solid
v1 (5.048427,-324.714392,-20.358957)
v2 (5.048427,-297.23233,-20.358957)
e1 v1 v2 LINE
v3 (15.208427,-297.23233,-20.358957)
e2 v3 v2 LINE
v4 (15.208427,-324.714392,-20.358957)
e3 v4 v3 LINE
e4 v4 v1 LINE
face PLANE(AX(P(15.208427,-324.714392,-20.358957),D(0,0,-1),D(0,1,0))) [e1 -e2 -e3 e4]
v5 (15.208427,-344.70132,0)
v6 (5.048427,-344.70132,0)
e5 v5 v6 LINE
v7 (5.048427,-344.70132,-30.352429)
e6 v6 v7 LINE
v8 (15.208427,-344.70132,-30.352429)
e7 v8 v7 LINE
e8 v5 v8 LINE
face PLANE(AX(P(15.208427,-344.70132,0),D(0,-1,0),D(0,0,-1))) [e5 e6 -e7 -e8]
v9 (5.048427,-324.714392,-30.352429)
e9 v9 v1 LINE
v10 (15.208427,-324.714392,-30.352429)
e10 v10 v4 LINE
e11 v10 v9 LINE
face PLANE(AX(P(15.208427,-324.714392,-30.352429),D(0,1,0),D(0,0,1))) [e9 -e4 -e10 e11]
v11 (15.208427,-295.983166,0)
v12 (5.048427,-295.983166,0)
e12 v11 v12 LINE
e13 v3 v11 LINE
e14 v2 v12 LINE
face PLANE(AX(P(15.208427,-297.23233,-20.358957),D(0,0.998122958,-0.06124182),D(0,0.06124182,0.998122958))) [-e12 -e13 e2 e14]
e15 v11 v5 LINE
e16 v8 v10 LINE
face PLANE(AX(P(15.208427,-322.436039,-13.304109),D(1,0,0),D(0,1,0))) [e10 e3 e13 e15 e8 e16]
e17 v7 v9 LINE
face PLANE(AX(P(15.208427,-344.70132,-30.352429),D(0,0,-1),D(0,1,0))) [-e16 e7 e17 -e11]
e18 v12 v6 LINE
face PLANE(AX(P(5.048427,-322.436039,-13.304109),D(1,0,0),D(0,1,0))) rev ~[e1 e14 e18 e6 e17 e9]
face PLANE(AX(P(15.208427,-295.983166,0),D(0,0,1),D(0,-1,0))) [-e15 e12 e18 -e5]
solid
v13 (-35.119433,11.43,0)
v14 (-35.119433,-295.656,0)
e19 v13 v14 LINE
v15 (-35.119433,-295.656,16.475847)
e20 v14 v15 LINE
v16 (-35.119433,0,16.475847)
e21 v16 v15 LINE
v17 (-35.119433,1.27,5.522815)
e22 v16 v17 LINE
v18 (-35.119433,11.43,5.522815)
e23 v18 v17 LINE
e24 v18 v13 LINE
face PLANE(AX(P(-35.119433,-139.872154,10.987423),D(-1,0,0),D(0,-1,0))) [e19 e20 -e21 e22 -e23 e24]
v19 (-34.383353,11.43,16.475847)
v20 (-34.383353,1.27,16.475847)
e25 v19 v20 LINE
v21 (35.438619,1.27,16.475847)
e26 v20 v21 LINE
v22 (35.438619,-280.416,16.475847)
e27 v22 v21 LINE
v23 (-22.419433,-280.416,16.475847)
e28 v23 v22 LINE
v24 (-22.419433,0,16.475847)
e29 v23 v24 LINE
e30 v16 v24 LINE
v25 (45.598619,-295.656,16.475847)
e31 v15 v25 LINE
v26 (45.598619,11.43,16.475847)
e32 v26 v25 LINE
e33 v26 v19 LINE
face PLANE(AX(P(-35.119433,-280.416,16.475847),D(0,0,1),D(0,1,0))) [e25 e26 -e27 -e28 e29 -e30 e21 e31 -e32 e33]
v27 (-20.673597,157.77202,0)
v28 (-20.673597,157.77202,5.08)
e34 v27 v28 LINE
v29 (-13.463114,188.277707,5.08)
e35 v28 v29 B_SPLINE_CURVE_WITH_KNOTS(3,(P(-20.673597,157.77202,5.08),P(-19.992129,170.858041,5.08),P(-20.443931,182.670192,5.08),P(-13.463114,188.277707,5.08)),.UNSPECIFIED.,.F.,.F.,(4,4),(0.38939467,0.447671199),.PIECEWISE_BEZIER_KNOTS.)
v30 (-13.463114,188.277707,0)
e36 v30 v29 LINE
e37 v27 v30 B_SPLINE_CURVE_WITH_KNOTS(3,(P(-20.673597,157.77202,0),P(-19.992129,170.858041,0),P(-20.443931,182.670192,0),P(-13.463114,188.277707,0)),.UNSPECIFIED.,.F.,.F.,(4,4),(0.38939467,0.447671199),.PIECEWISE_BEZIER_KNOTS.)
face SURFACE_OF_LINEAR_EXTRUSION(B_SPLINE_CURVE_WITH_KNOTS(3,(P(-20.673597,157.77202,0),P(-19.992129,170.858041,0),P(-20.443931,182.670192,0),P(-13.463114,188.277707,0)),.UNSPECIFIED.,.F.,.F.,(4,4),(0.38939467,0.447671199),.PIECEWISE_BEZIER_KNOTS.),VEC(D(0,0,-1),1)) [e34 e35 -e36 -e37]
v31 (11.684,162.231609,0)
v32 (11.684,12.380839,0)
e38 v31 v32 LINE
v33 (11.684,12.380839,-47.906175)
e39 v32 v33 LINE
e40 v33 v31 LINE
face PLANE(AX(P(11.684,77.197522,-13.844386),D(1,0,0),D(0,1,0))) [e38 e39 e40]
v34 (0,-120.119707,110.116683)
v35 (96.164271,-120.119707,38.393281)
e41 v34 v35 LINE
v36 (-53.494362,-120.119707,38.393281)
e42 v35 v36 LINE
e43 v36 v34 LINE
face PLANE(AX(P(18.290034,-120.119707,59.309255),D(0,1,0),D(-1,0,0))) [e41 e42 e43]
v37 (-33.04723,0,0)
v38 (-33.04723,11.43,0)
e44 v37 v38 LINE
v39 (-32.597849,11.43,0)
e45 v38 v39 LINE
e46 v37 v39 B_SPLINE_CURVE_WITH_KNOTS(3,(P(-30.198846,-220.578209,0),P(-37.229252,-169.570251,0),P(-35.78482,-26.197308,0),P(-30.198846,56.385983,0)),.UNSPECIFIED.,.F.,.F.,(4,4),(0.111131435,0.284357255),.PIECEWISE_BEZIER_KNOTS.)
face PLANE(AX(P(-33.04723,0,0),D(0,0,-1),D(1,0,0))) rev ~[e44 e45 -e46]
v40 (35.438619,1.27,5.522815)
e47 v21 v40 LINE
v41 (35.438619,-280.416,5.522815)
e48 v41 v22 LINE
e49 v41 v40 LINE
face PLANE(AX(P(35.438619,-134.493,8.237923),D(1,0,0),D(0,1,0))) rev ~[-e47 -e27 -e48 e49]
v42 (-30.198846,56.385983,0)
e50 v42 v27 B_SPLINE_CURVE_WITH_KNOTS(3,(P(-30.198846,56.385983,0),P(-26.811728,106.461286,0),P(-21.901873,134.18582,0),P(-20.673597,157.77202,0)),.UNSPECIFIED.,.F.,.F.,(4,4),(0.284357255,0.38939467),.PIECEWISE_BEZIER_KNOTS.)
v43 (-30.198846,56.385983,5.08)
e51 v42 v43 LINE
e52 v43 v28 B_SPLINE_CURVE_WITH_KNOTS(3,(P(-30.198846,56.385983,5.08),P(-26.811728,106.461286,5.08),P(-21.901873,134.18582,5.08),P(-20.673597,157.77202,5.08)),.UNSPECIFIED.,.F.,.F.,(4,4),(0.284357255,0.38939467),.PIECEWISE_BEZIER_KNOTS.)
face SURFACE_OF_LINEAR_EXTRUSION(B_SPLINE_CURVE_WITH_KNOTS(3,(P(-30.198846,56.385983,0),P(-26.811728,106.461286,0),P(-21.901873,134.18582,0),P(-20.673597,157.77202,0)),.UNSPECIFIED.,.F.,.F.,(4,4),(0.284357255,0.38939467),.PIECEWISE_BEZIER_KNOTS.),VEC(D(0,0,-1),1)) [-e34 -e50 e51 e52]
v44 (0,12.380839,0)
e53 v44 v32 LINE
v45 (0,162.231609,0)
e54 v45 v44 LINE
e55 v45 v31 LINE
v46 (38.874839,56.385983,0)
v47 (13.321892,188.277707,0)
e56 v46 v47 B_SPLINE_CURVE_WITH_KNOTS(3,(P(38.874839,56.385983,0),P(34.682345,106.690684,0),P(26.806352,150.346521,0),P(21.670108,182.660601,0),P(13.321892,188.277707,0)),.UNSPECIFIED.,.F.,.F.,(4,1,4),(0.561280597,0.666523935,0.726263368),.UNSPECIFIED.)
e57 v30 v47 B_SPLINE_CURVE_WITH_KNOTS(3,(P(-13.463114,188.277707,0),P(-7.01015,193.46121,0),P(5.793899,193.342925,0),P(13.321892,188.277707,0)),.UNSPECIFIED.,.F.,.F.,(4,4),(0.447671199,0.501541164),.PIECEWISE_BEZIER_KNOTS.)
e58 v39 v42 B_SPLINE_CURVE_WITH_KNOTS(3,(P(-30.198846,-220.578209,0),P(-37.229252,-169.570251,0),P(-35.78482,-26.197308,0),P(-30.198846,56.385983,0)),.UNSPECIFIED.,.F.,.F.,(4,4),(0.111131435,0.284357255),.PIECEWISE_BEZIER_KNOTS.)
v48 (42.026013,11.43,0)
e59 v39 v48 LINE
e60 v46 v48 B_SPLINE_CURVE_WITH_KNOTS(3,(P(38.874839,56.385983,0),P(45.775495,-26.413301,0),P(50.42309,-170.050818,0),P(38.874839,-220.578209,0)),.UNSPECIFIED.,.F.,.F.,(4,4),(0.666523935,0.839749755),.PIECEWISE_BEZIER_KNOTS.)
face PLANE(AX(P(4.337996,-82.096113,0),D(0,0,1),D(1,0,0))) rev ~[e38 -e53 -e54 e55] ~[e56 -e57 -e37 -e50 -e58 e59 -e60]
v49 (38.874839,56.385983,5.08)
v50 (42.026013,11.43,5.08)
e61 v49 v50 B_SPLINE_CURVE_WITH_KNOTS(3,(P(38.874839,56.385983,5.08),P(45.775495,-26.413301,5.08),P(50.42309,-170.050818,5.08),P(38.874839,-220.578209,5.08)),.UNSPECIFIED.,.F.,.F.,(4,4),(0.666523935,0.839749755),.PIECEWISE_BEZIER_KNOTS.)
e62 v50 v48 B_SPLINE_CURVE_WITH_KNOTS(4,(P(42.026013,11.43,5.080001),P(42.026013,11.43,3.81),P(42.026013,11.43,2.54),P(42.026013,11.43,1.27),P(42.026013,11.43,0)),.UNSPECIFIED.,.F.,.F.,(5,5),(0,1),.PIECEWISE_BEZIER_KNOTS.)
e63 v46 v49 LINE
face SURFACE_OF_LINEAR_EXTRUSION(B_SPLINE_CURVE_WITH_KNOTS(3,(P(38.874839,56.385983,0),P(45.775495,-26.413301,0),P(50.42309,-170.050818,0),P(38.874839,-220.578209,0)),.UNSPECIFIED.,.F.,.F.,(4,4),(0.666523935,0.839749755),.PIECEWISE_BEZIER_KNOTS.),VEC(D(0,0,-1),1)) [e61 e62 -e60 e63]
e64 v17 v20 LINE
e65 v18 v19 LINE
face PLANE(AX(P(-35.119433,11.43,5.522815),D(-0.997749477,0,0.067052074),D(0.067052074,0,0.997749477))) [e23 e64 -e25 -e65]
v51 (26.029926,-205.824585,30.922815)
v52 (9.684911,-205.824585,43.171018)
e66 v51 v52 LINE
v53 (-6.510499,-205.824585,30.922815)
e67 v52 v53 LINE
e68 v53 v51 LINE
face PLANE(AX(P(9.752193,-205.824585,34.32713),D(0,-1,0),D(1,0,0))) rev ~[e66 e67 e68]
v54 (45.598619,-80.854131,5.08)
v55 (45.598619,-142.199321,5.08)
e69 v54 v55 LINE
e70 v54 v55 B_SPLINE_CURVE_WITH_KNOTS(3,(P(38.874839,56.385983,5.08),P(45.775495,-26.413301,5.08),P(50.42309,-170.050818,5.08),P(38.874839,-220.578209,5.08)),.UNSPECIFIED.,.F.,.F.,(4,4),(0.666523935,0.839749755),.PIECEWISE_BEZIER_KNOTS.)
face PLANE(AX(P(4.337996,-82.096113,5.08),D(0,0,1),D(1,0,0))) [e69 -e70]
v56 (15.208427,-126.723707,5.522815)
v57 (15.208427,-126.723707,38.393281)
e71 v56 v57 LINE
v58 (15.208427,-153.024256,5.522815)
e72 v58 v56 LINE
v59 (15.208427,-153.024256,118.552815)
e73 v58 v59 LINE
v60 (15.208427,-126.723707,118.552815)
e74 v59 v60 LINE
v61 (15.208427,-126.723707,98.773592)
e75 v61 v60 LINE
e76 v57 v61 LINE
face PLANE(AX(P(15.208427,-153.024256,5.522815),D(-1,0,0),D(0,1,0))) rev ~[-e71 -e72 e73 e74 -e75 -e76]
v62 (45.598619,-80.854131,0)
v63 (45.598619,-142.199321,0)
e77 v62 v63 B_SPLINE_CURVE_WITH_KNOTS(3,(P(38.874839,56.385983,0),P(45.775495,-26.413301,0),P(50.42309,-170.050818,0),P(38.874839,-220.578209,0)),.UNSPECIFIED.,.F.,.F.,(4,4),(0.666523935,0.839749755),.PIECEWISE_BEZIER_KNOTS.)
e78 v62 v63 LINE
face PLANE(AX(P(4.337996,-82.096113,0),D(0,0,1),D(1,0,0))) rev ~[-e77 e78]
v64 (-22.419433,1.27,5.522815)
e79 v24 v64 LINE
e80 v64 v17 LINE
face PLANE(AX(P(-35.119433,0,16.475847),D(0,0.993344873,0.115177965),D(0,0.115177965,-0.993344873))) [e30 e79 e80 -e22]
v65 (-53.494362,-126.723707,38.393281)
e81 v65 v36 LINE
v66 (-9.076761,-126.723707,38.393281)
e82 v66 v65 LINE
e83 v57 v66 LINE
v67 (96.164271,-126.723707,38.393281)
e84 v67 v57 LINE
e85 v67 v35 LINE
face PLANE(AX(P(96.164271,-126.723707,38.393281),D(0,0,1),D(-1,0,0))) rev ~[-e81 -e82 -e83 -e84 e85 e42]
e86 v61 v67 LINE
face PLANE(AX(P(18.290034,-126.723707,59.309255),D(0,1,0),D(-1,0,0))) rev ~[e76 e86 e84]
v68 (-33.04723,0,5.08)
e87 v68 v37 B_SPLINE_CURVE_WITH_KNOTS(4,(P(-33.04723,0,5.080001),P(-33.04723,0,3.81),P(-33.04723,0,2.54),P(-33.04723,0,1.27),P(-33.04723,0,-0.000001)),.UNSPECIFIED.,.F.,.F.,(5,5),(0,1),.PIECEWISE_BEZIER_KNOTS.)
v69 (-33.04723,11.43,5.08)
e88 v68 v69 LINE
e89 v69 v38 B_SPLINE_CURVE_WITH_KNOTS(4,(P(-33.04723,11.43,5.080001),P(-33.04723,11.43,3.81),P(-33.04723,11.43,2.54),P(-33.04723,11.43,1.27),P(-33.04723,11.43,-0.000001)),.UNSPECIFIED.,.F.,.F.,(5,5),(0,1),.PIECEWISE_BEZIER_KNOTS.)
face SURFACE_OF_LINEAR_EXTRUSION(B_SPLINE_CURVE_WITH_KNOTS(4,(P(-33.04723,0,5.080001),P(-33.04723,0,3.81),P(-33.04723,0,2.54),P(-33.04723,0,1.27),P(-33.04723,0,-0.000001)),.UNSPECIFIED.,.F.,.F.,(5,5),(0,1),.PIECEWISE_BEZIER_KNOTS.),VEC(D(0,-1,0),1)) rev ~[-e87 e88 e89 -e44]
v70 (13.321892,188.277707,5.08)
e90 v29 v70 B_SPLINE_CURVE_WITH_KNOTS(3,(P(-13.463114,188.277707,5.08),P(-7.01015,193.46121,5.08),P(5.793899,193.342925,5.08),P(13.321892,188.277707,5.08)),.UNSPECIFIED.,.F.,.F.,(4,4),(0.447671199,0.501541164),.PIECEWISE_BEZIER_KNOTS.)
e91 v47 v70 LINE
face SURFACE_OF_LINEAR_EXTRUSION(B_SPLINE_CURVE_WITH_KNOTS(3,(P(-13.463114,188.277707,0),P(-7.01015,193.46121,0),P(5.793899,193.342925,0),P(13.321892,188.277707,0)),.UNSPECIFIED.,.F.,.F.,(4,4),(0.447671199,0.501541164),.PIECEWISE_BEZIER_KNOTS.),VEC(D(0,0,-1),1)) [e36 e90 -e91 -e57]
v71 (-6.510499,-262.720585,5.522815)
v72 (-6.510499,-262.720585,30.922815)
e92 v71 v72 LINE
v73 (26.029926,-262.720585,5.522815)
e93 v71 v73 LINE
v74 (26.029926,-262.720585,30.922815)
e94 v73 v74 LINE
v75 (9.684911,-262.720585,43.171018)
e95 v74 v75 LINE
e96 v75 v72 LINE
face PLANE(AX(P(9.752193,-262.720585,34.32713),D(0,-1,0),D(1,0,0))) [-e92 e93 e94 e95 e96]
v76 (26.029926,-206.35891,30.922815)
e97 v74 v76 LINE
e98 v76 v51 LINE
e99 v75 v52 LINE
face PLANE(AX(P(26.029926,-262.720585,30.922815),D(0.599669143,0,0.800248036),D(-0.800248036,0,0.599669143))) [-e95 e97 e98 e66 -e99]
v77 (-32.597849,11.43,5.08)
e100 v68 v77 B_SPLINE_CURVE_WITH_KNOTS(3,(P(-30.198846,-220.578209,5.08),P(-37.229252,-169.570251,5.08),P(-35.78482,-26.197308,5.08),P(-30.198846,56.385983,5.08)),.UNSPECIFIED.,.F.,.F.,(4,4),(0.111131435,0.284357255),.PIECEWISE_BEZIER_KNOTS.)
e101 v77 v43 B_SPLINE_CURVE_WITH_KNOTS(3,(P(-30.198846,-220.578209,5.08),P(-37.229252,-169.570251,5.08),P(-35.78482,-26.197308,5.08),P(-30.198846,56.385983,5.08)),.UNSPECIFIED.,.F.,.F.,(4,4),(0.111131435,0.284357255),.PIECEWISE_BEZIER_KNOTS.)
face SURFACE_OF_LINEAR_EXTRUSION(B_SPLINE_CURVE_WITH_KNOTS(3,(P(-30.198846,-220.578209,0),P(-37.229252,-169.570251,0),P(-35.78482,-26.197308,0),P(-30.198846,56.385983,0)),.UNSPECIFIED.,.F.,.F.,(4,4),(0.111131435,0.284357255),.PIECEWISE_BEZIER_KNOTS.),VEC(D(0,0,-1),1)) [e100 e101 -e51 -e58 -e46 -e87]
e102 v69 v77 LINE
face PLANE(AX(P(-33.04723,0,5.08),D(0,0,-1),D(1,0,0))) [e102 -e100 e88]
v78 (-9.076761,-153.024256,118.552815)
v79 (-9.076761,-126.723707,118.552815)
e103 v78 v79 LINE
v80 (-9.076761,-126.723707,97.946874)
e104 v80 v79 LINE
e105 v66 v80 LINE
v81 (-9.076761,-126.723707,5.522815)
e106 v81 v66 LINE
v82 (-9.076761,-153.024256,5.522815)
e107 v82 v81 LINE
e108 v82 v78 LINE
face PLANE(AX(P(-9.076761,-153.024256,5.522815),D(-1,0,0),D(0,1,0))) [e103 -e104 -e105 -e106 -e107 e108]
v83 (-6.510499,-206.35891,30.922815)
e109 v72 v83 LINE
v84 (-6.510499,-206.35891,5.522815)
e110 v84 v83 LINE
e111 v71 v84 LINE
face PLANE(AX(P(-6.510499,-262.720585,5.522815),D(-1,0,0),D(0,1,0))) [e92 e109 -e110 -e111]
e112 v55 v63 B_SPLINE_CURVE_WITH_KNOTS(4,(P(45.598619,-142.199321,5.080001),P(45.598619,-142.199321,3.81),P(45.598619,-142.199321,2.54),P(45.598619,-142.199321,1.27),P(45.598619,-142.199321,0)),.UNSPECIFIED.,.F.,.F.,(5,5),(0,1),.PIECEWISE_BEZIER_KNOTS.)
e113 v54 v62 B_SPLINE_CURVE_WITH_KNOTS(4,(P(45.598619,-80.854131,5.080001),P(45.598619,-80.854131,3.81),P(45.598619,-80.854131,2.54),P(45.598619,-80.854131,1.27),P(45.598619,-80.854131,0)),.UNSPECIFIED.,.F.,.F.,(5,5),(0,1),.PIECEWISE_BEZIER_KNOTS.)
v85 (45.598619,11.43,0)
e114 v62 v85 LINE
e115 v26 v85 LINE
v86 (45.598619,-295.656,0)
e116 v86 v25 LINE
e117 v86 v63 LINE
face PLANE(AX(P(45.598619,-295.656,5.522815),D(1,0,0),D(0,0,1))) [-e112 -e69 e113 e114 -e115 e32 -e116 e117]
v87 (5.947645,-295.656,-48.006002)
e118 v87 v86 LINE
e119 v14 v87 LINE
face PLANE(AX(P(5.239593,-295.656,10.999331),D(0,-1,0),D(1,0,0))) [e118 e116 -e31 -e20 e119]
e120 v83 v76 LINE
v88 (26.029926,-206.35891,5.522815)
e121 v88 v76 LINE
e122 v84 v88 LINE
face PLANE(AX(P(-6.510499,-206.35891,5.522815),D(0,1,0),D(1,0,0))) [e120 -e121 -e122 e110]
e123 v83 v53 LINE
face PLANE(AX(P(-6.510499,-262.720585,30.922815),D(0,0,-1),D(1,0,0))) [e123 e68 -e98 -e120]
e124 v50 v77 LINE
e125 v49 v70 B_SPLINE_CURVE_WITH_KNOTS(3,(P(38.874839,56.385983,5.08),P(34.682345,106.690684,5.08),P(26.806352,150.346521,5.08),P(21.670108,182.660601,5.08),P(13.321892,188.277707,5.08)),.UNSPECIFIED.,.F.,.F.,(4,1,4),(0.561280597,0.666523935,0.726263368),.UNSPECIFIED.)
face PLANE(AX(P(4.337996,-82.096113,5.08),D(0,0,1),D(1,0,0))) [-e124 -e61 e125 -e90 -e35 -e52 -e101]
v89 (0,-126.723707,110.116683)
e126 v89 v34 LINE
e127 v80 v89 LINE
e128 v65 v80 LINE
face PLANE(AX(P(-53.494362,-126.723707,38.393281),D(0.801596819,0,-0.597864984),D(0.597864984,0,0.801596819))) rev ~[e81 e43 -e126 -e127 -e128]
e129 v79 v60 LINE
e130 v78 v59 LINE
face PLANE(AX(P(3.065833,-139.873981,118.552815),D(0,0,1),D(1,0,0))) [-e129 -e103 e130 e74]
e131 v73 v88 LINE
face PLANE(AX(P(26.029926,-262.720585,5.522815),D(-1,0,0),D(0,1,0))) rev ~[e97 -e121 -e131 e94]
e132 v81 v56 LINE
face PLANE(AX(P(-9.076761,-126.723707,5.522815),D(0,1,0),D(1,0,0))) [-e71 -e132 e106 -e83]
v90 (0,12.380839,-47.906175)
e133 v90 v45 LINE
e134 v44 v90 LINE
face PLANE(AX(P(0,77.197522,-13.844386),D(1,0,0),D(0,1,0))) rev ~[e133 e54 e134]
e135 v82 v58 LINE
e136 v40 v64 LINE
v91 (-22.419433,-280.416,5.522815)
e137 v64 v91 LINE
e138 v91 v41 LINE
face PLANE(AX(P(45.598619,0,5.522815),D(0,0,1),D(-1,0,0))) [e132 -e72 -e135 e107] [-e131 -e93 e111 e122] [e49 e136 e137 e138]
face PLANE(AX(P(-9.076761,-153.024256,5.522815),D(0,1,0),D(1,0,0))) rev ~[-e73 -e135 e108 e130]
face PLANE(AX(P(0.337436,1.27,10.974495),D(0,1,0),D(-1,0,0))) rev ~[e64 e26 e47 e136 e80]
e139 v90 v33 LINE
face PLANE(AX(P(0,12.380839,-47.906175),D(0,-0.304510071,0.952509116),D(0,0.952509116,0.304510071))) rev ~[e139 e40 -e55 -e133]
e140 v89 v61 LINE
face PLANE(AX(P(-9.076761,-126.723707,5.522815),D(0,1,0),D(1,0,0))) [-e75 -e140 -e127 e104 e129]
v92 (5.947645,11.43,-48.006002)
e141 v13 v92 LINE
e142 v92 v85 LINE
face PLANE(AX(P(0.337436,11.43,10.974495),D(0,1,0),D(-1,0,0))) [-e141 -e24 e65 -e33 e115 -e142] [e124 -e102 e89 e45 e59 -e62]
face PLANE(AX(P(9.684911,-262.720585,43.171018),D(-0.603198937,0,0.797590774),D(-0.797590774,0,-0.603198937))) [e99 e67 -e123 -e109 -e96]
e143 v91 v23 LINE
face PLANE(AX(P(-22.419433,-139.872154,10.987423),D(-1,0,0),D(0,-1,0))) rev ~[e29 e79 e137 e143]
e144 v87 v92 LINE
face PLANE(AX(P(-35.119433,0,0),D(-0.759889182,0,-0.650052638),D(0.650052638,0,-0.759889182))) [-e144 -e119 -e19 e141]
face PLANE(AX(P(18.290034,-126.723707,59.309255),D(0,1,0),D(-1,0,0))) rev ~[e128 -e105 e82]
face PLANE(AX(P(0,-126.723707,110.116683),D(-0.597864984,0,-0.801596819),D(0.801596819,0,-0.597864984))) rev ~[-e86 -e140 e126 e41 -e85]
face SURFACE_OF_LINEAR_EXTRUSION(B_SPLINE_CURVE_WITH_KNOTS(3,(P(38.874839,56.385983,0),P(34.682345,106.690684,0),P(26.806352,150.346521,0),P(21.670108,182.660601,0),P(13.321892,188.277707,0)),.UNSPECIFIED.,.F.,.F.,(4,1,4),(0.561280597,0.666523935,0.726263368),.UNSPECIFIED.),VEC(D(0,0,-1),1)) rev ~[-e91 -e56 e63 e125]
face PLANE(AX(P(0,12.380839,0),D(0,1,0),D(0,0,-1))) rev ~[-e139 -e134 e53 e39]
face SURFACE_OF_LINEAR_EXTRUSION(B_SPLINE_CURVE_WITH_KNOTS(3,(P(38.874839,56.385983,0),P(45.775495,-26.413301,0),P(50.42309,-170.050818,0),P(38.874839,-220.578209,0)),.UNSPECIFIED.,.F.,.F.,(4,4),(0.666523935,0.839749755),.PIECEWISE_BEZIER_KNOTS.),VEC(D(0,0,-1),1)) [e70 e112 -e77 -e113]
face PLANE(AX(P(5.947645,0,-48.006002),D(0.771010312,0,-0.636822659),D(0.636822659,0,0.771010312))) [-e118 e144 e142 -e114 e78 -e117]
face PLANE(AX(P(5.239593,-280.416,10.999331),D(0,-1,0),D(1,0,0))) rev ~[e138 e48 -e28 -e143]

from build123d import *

# Parameters (mm, degrees)
F0_W      = 26.7850067466
F0_H      = 30.5056869984
F0_W_2    = 12.1168894693
F0_H_2    = 33.0980867147
F0_W_3    = 21.1634831503
F0_H_3    = 19.6867287159
F2_DEPTH  = 5.08
F3_DEPTH  = 295.656
F4_DEPTH  = 11.43
F5_W      = 24.2851879448
F5_H      = 26.3005495071
F6_DEPTH  = 113.03
F8_DEPTH  = 10.16
F9_W      = 80.7180516422
F9_H      = 10.9530324116
F10_DEPTH = 15.24
F11_W     = 291.846
F11_H     = 16.4758469909
F12_DEPTH = 10.16
F14_DEPTH = 10.16
F16_DEPTH = 12.7
F18_DEPTH = 6.604
F19_W     = 32.5404251926
F19_H     = 56.3616752625
F20_DEPTH = 25.4
F22_DEPTH = 56.896
F24_DEPTH = 11.684


with BuildPart() as f2:
    # F0 (on Top) → F2 (new body)
    with BuildSketch(Plane.XY):
        Polygon((38.8748385012, -220.5782085657), (38.8748385012, 56.3859827816), (25.7489401847, 56.3859827816), (-20.6735972315, 56.3859827816), (-30.1988460124, 56.3859827816), (-30.1988460124, -220.5782085657), (-20.6735972315, -220.5782085657), (-8.5567077622, -220.5782085657), (24.1141803563, -220.5782085657), align=None)
        with BuildLine():
            add(Edge.make_bspline(
                [(38.8748385012, 56.3859827816), (45.7754945346, -26.4133011189), (50.4230902449, -170.0508183116), (38.8748385012, -220.5782085657)],
                knots=[0.6665239349, 0.6665239349, 0.6665239349, 0.6665239349, 0.8397497546, 0.8397497546, 0.8397497546, 0.8397497546], degree=3))
            Line((38.8748385012, 56.3859827816), (38.8748385012, -220.5782085657))
        make_face()
        with BuildLine():
            Line((25.7489401847, 56.3859827816), (38.8748385012, 56.3859827816))
            add(Edge.make_bspline(
                [(25.7489401847, 157.7720195055), (29.6582093124, 134.5389617367), (34.6823452746, 106.6906835587), (38.8748385012, 56.3859827816)],
                knots=[0.5612805969, 0.5612805969, 0.5612805969, 0.5612805969, 0.6665239349, 0.6665239349, 0.6665239349, 0.6665239349], degree=3))
            Line((25.7489401847, 157.7720195055), (25.7489401847, 56.3859827816))
        make_face()
        Polygon((-20.6735972315, 56.3859827816), (25.7489401847, 56.3859827816), (25.7489401847, 157.7720195055), (13.3218923584, 157.7720195055), (-13.4631143883, 157.7720195055), (-20.6735972315, 157.7720195055), align=None)
        with BuildLine():
            add(Edge.make_bspline(
                [(38.8748385012, -220.5782085657), (34.6974928863, -238.8554661799), (28.4009469605, -244.9494150468), (24.1141803563, -253.6762952805)],
                knots=[0.8397497546, 0.8397497546, 0.8397497546, 0.8397497546, 0.902410678, 0.902410678, 0.902410678, 0.902410678], degree=3))
            Line((38.8748385012, -220.5782085657), (24.1141803563, -220.5782085657))
            Line((24.1141803563, -220.5782085657), (24.1141803563, -253.6762952805))
        make_face()
        with BuildLine():
            Line((13.3218923584, 157.7720195055), (25.7489401847, 157.7720195055))
            add(Edge.make_bspline(
                [(13.3218923584, 188.2777065039), (21.6701078921, 182.6606005161), (23.52991592, 170.9598347334), (25.7489401847, 157.7720195055)],
                knots=[0.501541164, 0.501541164, 0.501541164, 0.501541164, 0.5612805969, 0.5612805969, 0.5612805969, 0.5612805969], degree=3))
            Line((13.3218923584, 188.2777065039), (13.3218923584, 157.7720195055))
        make_face()
        with BuildLine():
            Line((-30.1988460124, 56.3859827816), (-20.6735972315, 56.3859827816))
            Line((-20.6735972315, 56.3859827816), (-20.6735972315, 157.7720195055))
            add(Edge.make_bspline(
                [(-30.1988460124, 56.3859827816), (-26.811728067, 106.461285668), (-21.9018730118, 134.1858202728), (-20.6735972315, 157.7720195055)],
                knots=[0.284357255, 0.284357255, 0.284357255, 0.284357255, 0.3893946698, 0.3893946698, 0.3893946698, 0.3893946698], degree=3))
        make_face()
        Polygon((24.1141803563, -253.6762952805), (24.1141803563, -220.5782085657), (-8.5567077622, -220.5782085657), (-8.5567077622, -253.6762952805), (12.6067753881, -253.6762952805), align=None)
        with BuildLine():
            add(Edge.make_bspline(
                [(24.1141803563, -253.6762952805), (20.7137638143, -260.5987687077), (18.5779465707, -269.1779430091), (12.6067753881, -273.3630239964)],
                knots=[0.902410678, 0.902410678, 0.902410678, 0.902410678, 0.9521155629, 0.9521155629, 0.9521155629, 0.9521155629], degree=3))
            Line((24.1141803563, -253.6762952805), (12.6067753881, -253.6762952805))
            Line((12.6067753881, -253.6762952805), (12.6067753881, -273.3630239964))
        make_face()
        with Locations((-0.070611015, 173.0248630047)):
            Rectangle(F0_W, F0_H)
        with BuildLine():
            Line((-13.4631143883, 188.2777065039), (13.3218923584, 188.2777065039))
            add(Edge.make_bspline(
                [(-13.4631143883, 188.2777065039), (-7.010150179, 193.4612102579), (5.7938985877, 193.3429253778), (13.3218923584, 188.2777065039)],
                knots=[0.4476711989, 0.4476711989, 0.4476711989, 0.4476711989, 0.501541164, 0.501541164, 0.501541164, 0.501541164], degree=3))
        make_face()
        with BuildLine():
            Line((-30.1988460124, -220.5782085657), (-30.1988460124, 56.3859827816))
            add(Edge.make_bspline(
                [(-30.1988460124, -220.5782085657), (-37.22925168, -169.5702511067), (-35.7848201471, -26.1973081538), (-30.1988460124, 56.3859827816)],
                knots=[0.1111314354, 0.1111314354, 0.1111314354, 0.1111314354, 0.284357255, 0.284357255, 0.284357255, 0.284357255], degree=3))
        make_face()
        with BuildLine():
            add(Edge.make_bspline(
                [(-20.6735972315, 157.7720195055), (-19.9921291147, 170.8580406025), (-20.4439311833, 182.6701920516), (-13.4631143883, 188.2777065039)],
                knots=[0.3893946698, 0.3893946698, 0.3893946698, 0.3893946698, 0.4476711989, 0.4476711989, 0.4476711989, 0.4476711989], degree=3))
            Line((-20.6735972315, 157.7720195055), (-13.4631143883, 157.7720195055))
            Line((-13.4631143883, 157.7720195055), (-13.4631143883, 188.2777065039))
        make_face()
        with Locations((-14.6151524968, -237.1272519231)):
            Rectangle(F0_W_2, F0_H_2)
        with Locations((2.025033813, -263.5196596384)):
            Rectangle(F0_W_3, F0_H_3)
        with BuildLine():
            add(Edge.make_bspline(
                [(12.6067753881, -273.3630239964), (6.8542991085, -277.3948258609), (-2.4577352033, -277.3485086263), (-8.5567077622, -273.3630239964)],
                knots=[0.9521155629, 0.9521155629, 0.9521155629, 0.9521155629, 1, 1, 1, 1], degree=3))
            Line((12.6067753881, -273.3630239964), (-8.5567077622, -273.3630239964))
        make_face()
        with BuildLine():
            Line((-20.6735972315, -220.5782085657), (-30.1988460124, -220.5782085657))
            add(Edge.make_bspline(
                [(-20.6735972315, -253.6762952805), (-24.1865964905, -245.0669765103), (-27.719658883, -238.5655449448), (-30.1988460124, -220.5782085657)],
                knots=[0.050045455, 0.050045455, 0.050045455, 0.050045455, 0.1111314354, 0.1111314354, 0.1111314354, 0.1111314354], degree=3))
            Line((-20.6735972315, -253.6762952805), (-20.6735972315, -220.5782085657))
        make_face()
        with BuildLine():
            Line((-8.5567077622, -273.3630239964), (-8.5567077622, -253.6762952805))
            Line((-8.5567077622, -253.6762952805), (-20.6735972315, -253.6762952805))
            add(Edge.make_bspline(
                [(-8.5567077622, -273.3630239964), (-14.9309260863, -269.1976750112), (-17.7955285606, -260.7295875824), (-20.6735972315, -253.6762952805)],
                knots=[0, 0, 0, 0, 0.050045455, 0.050045455, 0.050045455, 0.050045455], degree=3))
        make_face()
    extrude(amount=F2_DEPTH)

    # F1 (on Front) → F3 (join)
    with BuildSketch(Plane.XZ):
        Polygon((45.5986186862, 5.5228145793), (-35.119432956, 5.5228145793), (-35.119432956, 0), (5.9476448223, -48.0060018599), (45.5986186862, 0), align=None)
    extrude(amount=F3_DEPTH)

    # F4 (add): a face of the model
    f4_faces = [f2.faces().sort_by_distance(p)[0] for p in [
        (5.5510275585, 0, -15.3852185694),
    ]]
    extrude(f4_faces, amount=F4_DEPTH)

    # F5 (on face) → F6 (join)
    with BuildSketch(Plane.XY.offset(5.5228145793)):
        with Locations((3.0658328906, -139.8739814758)):
            Rectangle(F5_W, F5_H)
    extrude(amount=F6_DEPTH)

    # F9 (on face) → F10 (join)
    with BuildSketch(Plane.XZ.offset(295.656)):
        with Locations((5.2395928651, 10.9993307851)):
            Rectangle(F9_W, F9_H)
    extrude(amount=-F10_DEPTH)

    # F11 (on face) → F12 (join)
    with BuildSketch(Plane.YZ.offset(45.5986186862)):
        with Locations((-134.493, 8.2379234955)):
            Rectangle(F11_W, F11_H)
    extrude(amount=-F12_DEPTH)

    # F13 (on face) → F14 (join)
    with BuildSketch(Plane(origin=(0, 11.43, 0), x_dir=(-1, 0, 0), z_dir=(0, 1, 0))):
        Polygon((34.3833528459, 16.4758469909), (-35.4386186862, 16.4758469909), (-35.4386186862, 5.5228145793), (35.119432956, 5.5228145793), align=None)
    extrude(amount=-F14_DEPTH)

    # F15 (on face) → F16 (join)
    with BuildSketch(Plane(origin=(-35.119432956, 0, 0), x_dir=(0, -1, 0), z_dir=(-1, 0, 0))):
        Polygon((0, 16.4758469909), (-1.27, 5.5228145793), (280.416, 5.5228145793), (280.416, 16.4758469909), align=None)
    extrude(amount=-F16_DEPTH)

    # F17 (on face) → F18 (join)
    with BuildSketch(Plane(origin=(0, -126.7237067223, 0), x_dir=(-1, 0, 0), z_dir=(0, 1, 0))):
        Polygon((-96.1642712355, 38.3932814002), (-15.208426863, 38.3932814002), (53.4943619216, 38.3932814002), (0, 110.1166829467), align=None)
    extrude(amount=F18_DEPTH)

    # F19 (on face) → F20 (join)
    with BuildSketch(Plane.XY.offset(5.5228145793)):
        with Locations((9.7597131971, -234.5397472382)):
            Rectangle(F19_W, F19_H)
    extrude(amount=F20_DEPTH)

    # F21 (on face) → F22 (join)
    with BuildSketch(Plane.XZ.offset(262.7205848694)):
        Polygon((9.6849109977, 43.171018362), (-6.5104993992, 30.9228145793), (26.0299257934, 30.9228145793), align=None)
    extrude(amount=-F22_DEPTH)

    # F23 (on Right) → F24 (join)
    with BuildSketch(Plane.YZ):
        Polygon((162.2316092253, 0), (12.3808393255, 0), (12.3808393255, -47.9061752558), align=None)
    extrude(amount=F24_DEPTH)


with BuildPart() as f8:
    # F7 (on face) → F8 (new body)
    with BuildSketch(Plane.YZ.offset(15.208426863)):
        Polygon((-297.2323298454, -20.3589573503), (-295.9831655025, 0), (-344.7013199329, 0), (-344.7013199329, -30.3524285555), (-324.7143924236, -30.3524285555), (-324.7143924236, -20.3589573503), align=None)
    extrude(amount=-F8_DEPTH)


solid = Compound([f2.part, f8.part])
